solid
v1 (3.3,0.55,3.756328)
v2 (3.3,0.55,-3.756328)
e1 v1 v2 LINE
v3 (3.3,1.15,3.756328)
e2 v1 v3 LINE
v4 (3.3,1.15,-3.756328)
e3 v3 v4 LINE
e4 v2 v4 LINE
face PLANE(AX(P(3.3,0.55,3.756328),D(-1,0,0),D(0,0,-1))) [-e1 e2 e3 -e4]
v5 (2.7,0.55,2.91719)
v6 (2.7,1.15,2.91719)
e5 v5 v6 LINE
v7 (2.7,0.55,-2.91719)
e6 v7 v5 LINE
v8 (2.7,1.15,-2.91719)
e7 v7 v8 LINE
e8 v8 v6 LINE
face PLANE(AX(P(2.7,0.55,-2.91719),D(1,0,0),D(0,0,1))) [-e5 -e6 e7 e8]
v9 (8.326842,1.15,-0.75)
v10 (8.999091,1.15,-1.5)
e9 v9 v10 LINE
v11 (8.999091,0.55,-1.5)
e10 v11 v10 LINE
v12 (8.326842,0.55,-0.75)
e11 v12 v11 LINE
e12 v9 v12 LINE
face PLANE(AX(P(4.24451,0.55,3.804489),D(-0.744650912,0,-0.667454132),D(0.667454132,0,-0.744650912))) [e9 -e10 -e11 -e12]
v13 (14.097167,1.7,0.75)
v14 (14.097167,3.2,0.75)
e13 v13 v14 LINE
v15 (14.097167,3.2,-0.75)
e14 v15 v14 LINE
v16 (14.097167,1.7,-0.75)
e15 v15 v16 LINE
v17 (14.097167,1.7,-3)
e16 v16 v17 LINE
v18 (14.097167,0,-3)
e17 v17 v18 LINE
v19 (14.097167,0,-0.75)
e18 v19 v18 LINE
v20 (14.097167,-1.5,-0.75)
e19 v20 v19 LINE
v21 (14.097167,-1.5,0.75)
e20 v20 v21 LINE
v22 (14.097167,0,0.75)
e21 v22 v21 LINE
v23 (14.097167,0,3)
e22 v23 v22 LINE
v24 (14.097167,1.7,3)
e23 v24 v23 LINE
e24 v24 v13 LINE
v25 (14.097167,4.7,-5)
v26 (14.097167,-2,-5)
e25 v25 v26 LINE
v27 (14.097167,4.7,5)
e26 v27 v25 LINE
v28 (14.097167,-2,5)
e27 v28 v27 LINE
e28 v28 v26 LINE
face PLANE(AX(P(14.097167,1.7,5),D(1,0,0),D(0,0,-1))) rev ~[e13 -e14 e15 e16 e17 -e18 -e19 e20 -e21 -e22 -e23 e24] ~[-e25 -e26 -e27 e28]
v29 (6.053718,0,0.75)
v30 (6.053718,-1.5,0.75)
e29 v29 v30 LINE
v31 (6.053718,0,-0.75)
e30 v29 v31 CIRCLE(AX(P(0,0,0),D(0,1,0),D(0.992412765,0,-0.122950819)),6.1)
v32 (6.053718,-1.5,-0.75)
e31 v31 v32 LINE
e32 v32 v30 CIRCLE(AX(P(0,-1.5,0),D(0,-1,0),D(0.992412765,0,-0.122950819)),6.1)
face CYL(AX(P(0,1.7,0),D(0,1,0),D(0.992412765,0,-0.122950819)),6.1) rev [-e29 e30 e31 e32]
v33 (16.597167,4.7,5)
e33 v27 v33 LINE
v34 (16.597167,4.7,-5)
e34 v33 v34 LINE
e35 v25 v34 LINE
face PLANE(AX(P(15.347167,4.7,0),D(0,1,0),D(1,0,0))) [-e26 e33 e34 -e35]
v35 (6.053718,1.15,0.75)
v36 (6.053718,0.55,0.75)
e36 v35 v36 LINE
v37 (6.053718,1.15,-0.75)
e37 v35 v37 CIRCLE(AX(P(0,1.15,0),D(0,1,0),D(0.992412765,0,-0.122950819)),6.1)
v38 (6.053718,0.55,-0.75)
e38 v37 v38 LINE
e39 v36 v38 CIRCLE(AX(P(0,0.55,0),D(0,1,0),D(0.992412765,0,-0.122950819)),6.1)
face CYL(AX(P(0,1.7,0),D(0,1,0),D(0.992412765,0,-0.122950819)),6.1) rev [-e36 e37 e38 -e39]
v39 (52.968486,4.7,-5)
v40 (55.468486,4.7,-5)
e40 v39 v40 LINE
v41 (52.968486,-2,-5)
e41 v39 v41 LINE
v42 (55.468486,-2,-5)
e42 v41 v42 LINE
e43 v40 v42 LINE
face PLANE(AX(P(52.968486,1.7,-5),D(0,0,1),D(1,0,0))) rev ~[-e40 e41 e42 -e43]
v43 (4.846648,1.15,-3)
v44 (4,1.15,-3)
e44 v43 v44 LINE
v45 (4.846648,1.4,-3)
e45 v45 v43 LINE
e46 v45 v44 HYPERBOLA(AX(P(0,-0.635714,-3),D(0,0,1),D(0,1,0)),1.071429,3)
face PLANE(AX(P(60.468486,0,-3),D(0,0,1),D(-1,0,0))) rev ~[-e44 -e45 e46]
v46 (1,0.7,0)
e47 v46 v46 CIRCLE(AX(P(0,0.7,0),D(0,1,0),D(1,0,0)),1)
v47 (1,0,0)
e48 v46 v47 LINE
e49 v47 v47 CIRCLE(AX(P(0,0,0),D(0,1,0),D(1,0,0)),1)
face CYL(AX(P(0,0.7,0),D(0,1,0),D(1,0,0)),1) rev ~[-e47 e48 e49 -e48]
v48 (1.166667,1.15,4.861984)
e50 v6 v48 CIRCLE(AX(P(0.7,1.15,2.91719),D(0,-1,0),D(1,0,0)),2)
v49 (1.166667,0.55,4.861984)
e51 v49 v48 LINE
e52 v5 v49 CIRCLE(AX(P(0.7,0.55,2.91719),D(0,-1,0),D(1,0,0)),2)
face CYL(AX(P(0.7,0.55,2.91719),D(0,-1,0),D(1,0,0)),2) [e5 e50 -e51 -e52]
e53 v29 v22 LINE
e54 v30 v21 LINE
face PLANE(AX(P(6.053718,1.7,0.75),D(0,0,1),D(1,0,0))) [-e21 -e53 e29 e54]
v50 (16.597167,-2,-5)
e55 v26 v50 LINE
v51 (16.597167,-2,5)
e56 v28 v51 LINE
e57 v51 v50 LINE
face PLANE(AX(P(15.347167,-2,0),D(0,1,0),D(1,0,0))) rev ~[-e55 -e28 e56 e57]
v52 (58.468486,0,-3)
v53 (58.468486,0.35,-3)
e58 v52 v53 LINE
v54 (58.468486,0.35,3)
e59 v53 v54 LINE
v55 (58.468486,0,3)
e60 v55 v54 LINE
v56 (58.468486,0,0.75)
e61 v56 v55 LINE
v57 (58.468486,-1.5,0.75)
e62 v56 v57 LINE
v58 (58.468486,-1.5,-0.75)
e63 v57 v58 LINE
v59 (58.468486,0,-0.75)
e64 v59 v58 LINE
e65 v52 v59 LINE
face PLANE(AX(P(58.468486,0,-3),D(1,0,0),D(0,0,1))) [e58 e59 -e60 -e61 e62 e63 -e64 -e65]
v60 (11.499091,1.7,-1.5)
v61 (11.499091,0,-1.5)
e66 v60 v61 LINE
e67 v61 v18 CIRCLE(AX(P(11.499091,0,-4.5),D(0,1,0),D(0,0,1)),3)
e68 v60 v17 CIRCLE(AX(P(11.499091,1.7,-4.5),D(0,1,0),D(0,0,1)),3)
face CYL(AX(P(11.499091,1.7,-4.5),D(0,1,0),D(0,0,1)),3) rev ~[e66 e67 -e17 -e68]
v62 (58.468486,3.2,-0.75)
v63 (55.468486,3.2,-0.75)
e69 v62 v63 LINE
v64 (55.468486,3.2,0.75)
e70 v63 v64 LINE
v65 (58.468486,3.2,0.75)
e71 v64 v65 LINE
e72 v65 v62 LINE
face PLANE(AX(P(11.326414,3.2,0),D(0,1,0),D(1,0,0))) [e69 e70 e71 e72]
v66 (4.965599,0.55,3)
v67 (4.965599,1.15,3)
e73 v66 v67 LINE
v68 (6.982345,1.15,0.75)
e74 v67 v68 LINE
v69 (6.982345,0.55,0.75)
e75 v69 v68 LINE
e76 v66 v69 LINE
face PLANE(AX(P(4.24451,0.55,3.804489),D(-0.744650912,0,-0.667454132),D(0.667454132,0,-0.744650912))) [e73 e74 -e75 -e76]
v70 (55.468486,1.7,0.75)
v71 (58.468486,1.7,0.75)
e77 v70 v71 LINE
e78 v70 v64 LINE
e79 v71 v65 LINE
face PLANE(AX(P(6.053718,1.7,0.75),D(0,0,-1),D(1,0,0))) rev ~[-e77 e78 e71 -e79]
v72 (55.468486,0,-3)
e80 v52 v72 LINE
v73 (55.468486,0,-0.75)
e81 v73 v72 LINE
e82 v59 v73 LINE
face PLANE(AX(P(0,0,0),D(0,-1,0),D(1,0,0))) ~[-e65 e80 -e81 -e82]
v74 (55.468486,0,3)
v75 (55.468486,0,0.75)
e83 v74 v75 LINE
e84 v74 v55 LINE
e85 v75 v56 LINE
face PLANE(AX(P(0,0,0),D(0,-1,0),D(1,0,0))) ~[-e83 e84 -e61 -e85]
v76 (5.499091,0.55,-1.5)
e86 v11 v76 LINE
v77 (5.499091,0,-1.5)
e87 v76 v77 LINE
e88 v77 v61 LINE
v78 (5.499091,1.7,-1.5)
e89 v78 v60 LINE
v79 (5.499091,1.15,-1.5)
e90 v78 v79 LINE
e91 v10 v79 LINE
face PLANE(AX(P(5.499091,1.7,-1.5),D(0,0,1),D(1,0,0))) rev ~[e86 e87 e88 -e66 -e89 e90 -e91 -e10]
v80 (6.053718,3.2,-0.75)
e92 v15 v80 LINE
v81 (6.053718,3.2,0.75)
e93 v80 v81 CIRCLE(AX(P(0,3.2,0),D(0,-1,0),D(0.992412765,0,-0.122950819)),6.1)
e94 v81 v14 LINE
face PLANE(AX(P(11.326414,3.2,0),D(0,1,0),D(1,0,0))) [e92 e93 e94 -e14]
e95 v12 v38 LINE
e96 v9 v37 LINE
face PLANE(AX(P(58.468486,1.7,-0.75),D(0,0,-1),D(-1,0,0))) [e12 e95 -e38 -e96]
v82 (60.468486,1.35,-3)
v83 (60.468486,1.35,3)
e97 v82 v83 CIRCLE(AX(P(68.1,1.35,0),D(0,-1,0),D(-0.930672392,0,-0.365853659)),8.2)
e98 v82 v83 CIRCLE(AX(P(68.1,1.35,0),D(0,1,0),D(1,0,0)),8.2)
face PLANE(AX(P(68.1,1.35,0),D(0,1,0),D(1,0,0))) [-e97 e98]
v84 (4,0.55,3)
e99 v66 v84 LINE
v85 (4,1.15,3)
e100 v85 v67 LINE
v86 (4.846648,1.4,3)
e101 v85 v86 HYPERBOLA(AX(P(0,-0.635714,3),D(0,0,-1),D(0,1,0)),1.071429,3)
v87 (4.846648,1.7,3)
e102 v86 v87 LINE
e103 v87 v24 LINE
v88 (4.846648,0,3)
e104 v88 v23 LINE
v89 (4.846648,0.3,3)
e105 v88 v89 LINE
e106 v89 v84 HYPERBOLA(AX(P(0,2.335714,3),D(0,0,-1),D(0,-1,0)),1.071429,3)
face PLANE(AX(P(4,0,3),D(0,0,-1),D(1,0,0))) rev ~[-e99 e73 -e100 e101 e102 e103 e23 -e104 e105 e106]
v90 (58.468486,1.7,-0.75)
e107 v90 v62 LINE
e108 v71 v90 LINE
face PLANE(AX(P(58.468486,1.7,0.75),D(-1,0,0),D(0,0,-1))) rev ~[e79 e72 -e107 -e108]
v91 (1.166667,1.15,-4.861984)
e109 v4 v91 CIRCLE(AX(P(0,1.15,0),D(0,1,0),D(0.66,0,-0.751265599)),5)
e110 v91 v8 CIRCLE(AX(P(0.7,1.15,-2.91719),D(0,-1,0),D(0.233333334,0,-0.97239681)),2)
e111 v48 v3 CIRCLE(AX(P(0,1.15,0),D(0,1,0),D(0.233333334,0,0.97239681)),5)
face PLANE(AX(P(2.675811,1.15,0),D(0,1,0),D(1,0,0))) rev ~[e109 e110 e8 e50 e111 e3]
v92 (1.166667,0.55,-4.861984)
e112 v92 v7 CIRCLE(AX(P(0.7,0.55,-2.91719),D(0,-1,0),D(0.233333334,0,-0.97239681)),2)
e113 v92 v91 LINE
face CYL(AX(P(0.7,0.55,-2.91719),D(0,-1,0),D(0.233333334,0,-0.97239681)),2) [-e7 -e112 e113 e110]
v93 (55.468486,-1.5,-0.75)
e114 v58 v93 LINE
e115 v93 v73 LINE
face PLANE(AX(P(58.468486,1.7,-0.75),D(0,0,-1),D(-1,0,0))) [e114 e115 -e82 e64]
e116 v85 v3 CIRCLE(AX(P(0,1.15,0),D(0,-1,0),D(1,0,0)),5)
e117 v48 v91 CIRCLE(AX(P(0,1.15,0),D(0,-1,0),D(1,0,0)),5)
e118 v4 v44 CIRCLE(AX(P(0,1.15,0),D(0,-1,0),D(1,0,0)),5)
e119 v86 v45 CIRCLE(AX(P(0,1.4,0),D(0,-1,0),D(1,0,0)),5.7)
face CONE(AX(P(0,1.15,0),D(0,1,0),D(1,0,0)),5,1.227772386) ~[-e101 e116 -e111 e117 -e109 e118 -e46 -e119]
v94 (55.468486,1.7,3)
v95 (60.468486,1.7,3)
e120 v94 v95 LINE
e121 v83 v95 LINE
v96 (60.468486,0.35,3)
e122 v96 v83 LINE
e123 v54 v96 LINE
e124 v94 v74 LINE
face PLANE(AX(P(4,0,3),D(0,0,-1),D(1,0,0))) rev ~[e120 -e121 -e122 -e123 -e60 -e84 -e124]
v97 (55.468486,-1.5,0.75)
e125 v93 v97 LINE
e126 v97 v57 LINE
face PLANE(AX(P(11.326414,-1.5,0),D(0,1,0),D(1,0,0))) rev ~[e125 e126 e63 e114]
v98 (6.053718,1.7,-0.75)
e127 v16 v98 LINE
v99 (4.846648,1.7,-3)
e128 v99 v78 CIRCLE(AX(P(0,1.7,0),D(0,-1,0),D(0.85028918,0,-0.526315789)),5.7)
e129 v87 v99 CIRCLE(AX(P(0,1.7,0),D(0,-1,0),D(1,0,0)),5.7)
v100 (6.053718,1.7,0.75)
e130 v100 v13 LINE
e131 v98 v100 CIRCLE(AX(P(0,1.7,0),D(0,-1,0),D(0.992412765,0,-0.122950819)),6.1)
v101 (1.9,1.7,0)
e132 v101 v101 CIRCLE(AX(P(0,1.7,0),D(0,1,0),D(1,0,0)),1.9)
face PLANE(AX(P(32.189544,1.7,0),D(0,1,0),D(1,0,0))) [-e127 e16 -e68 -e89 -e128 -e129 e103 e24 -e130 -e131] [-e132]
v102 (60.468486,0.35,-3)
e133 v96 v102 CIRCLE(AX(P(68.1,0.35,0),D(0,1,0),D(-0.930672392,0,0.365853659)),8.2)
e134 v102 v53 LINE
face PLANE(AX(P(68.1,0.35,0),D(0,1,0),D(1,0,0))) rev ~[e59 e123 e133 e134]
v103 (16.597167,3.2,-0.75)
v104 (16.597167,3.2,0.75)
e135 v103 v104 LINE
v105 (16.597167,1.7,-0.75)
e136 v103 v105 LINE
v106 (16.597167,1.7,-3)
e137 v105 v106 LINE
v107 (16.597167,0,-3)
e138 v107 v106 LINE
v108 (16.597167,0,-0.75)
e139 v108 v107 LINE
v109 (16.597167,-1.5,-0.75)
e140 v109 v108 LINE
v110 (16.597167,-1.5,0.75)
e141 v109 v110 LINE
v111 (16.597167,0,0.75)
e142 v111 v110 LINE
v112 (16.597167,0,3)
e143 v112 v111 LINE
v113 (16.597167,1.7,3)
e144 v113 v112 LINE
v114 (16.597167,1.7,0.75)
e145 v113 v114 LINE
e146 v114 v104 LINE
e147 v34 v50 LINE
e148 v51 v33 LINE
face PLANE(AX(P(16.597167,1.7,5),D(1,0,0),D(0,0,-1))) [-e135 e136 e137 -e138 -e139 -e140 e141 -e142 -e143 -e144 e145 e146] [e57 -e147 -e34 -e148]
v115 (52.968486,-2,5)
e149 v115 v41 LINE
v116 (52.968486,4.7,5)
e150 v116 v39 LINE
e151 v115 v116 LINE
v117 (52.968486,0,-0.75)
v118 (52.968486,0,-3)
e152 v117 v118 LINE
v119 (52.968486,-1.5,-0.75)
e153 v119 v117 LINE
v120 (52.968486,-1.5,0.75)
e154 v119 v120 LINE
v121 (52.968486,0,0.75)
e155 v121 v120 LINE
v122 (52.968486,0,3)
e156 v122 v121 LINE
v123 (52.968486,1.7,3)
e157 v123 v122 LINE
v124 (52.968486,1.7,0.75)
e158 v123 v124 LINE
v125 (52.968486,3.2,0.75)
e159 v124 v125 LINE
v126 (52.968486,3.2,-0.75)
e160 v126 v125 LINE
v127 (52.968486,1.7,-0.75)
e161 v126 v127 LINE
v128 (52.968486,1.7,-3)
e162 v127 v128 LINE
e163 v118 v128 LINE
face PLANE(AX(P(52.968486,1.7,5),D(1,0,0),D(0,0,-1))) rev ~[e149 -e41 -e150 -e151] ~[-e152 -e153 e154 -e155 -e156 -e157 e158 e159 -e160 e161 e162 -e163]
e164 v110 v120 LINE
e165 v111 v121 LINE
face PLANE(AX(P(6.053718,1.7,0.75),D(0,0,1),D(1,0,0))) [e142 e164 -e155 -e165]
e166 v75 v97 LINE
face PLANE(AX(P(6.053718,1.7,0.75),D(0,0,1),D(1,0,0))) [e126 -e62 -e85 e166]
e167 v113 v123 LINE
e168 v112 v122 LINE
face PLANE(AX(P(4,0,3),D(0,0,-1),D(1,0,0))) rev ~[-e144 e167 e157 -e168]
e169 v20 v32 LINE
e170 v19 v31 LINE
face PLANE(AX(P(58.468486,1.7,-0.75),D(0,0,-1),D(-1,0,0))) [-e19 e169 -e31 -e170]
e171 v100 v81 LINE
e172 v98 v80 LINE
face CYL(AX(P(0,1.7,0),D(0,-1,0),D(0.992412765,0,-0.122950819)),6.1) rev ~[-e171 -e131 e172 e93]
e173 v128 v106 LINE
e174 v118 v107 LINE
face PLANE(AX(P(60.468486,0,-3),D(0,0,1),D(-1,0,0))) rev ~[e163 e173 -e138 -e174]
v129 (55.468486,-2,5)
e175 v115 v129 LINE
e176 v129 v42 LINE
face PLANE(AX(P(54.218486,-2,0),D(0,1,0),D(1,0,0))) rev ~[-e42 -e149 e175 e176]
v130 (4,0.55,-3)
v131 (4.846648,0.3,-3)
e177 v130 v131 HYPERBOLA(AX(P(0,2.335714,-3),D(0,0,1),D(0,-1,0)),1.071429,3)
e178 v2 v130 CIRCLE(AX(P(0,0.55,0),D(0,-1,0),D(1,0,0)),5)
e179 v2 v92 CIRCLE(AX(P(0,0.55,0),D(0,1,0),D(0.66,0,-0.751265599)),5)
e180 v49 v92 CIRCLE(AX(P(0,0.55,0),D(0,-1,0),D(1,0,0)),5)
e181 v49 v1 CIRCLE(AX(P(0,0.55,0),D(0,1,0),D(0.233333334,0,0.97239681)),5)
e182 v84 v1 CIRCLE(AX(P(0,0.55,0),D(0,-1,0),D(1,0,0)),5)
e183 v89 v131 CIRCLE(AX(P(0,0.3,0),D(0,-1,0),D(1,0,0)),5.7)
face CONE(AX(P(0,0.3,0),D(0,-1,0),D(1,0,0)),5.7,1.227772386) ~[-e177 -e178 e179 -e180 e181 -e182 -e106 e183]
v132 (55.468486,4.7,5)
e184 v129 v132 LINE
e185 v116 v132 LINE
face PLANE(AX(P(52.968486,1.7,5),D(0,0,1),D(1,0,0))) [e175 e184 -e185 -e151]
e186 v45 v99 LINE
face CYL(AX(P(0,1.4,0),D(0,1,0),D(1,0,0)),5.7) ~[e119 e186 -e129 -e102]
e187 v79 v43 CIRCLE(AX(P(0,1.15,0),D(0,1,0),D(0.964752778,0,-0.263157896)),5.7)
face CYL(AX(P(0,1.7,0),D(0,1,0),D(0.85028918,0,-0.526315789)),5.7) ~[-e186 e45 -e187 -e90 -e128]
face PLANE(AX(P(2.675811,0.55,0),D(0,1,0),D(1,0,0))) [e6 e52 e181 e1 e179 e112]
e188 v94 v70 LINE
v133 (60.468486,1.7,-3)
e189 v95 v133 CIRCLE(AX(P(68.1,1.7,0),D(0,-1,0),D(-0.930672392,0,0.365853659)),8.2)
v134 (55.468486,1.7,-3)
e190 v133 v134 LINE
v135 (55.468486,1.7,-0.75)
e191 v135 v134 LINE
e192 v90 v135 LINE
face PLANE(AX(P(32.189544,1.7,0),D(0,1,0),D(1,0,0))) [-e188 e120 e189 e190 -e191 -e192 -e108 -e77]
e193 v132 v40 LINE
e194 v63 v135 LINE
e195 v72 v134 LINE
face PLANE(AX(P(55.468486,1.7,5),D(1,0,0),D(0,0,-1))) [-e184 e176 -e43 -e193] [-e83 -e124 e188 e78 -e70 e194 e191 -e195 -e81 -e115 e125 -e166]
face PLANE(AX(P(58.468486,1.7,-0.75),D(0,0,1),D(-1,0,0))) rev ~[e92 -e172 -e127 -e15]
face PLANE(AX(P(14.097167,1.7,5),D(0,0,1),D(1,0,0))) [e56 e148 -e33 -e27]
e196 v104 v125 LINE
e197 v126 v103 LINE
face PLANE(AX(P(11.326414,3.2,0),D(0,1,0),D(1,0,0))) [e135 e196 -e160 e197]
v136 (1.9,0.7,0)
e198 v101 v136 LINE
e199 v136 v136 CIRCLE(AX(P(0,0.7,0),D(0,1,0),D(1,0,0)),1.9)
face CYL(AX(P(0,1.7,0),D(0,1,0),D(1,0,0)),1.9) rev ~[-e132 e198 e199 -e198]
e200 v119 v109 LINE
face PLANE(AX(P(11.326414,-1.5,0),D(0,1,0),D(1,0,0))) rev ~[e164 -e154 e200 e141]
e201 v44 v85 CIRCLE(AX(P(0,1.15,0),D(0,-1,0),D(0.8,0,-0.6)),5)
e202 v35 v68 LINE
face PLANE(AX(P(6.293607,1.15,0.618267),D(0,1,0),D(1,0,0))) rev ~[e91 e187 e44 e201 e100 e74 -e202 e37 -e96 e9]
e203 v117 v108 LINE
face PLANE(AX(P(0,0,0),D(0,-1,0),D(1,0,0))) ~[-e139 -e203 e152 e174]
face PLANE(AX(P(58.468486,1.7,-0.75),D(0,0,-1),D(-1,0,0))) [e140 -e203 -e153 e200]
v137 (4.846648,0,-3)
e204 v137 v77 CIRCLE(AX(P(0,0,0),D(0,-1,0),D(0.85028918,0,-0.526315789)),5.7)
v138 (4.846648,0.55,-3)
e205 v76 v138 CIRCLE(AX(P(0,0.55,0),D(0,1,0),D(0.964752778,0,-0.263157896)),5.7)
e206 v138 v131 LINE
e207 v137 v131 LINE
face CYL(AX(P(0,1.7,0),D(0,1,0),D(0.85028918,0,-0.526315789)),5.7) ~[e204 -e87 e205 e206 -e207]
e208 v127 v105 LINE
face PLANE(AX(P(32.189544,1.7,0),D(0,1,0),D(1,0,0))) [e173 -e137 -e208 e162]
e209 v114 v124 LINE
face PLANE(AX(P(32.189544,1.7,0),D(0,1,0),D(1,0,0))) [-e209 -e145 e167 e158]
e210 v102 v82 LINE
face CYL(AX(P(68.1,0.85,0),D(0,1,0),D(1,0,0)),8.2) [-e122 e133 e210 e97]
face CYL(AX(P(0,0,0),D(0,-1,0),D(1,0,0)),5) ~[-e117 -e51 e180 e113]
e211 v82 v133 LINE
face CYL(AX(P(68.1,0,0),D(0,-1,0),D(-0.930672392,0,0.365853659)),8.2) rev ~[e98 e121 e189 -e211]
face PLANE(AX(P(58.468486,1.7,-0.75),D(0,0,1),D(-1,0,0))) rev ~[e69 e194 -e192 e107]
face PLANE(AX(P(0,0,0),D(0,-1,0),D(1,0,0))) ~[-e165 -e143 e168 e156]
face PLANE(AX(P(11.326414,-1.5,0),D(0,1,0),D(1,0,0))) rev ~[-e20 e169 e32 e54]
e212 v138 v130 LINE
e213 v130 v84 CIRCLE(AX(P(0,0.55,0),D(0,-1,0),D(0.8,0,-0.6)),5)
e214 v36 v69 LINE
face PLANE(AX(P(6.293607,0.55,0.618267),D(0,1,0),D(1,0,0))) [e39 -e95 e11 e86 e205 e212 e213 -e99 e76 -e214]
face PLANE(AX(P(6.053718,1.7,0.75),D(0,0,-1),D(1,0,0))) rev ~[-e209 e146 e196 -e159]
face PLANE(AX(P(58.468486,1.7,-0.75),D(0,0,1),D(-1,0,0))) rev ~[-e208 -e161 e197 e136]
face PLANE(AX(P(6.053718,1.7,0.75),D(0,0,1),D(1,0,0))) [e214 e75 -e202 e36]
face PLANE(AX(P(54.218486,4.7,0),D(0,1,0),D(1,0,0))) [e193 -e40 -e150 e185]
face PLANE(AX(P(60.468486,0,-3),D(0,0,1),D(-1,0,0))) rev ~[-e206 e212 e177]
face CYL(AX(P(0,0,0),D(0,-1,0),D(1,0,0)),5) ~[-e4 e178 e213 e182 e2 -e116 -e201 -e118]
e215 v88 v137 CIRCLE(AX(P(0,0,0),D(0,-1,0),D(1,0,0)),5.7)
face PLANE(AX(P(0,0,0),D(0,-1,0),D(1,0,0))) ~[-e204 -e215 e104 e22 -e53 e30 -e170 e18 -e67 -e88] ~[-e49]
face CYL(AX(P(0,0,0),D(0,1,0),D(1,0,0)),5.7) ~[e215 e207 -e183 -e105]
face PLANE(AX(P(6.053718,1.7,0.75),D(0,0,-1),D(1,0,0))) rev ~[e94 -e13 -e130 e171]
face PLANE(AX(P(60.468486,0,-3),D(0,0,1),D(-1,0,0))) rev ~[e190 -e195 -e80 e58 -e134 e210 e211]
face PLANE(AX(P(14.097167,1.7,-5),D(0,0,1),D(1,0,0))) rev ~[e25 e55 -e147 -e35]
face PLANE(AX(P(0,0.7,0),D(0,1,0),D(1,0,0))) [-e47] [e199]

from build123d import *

# Parameters (mm, degrees)
SKETCH1_R                      = 5
BOSS_EXTRUDE1_DEPTH            = 1.7
EP_CABLESLOT_DEPTH             = 0.6
SKETCH4_R                      = 1.9
EP_BALLBEARINGSLOT_DEPTH       = 1
SKETCH5_R                      = 1
EP_SHAFTHOLE_DEPTH             = 0.7
BOSS_EXTRUDE2_START            = -0.85
BOSS_EXTRUDE2_DEPTH            = 1.7
HUMERUSCLEARANCECUT_DEPTH      = 1.7
CABLECLEARANCECUT_DEPTH        = 0.6
SKETCH6_3_R                    = 8.2
MAINPLATE_DEPTH                = 0.5
FINGERPULLEYCLEARANCECUT_DEPTH = 0.35
SKETCH10_W                     = 2.5
SKETCH10_H                     = 10
BLOCK1_DEPTH                   = 3
BLOCK1_DEPTH_BACK              = 3.7
SKETCH13_W                     = 2.5
SKETCH13_H                     = 10
BLOCK2_DEPTH                   = 3
BLOCK2_DEPTH_BACK              = 3.7
SKETCH14_W                     = 36.371319344
SKETCH14_H                     = 1.5
SKETCH14_W_2                   = 5.5
STIFFENERRIB_DEPTH             = 1.5
STIFFENERRIB_DEPTH_BACK        = 3.2


with BuildPart() as part:
    # Sketch1 → Boss-Extrude1 (new body)
    with BuildSketch(Plane(origin=(0, 0, 0), x_dir=(1, 0, 0), z_dir=(0, 1, 0))):
        Circle(SKETCH1_R)
    extrude(amount=BOSS_EXTRUDE1_DEPTH)

    # Sketch2 → Revolve1 (revolve)
    with BuildSketch(Plane.XY):
        Polygon((5, 1.7), (5, 1.15), (5.7, 1.4), (5.7, 1.7), align=None)
        Polygon((5, 0.55), (5, 0), (5.7, 0), (5.7, 0.3), align=None)
    revolve(axis=Axis((0, 1.7, 0), (0, -1, 0)))

    # Sketch3 → EP_CableSlot (cut)
    with BuildSketch(Plane(origin=(0, 0.55, 0), x_dir=(1, 0, 0), z_dir=(0, 1, 0))):
        with BuildLine():
            ThreePointArc((1.166666667, -4.861984049), (2.300738274, -4.439212024), (3.3, -3.756327994))
            Line((3.3, -3.756327994), (3.3, 3.756327994))
            ThreePointArc((3.3, 3.756327994), (2.300738274, 4.439212024), (1.166666667, 4.861984049))
            ThreePointArc((1.166666667, 4.861984049), (2.270562532, 4.155468804), (2.7, 2.917190429))
            Line((2.7, 2.917190429), (2.7, -2.917190429))
            ThreePointArc((2.7, -2.917190429), (2.270562532, -4.155468804), (1.166666667, -4.861984049))
        make_face()
    extrude(amount=EP_CABLESLOT_DEPTH, mode=Mode.SUBTRACT)

    # Sketch4 → EP_BallBearingSlot (cut)
    with BuildSketch(Plane(origin=(0, 1.7, 0), x_dir=(1, 0, 0), z_dir=(0, 1, 0))):
        Circle(SKETCH4_R)
    extrude(amount=-EP_BALLBEARINGSLOT_DEPTH, mode=Mode.SUBTRACT)

    # Sketch5 → EP_ShaftHole (cut)
    with BuildSketch(Plane(origin=(0, 0.7, 0), x_dir=(1, 0, 0), z_dir=(0, 1, 0))):
        Circle(SKETCH5_R)
    extrude(amount=-EP_SHAFTHOLE_DEPTH, mode=Mode.SUBTRACT)

    # Sketch6 → Boss-Extrude2 (add)
    with BuildSketch(Plane(origin=(0, 0.85, 0), x_dir=(1, 0, 0), z_dir=(0, 1, 0)).offset(BOSS_EXTRUDE2_START)):
        with BuildLine():
            ThreePointArc((4, 3), (5, 0), (4, -3))
            Line((4, -3), (60.468486389, -3))
            ThreePointArc((60.468486389, -3), (59.9, 0), (60.468486389, 3))
            Line((60.468486389, 3), (4, 3))
        make_face()
    extrude(amount=BOSS_EXTRUDE2_DEPTH)

    # Sketch8 → HumerusClearanceCut (cut)
    with BuildSketch(Plane(origin=(0, 1.7, 0), x_dir=(1, 0, 0), z_dir=(0, 1, 0))):
        with BuildLine():
            ThreePointArc((4.846648326, 3), (5.22695702, 2.273525963), (5.499090834, 1.5))
            Line((5.499090834, 1.5), (11.499090834, 1.5))
            ThreePointArc((11.499090834, 1.5), (12.999090834, 1.901923789), (14.097167045, 3))
            Line((14.097167045, 3), (4.846648326, 3))
        make_face()
    extrude(amount=-HUMERUSCLEARANCECUT_DEPTH, mode=Mode.SUBTRACT)

    # Sketch11 → CableClearanceCut (cut)
    with BuildSketch(Plane(origin=(0, 0.55, 0), x_dir=(1, 0, 0), z_dir=(0, 1, 0))):
        with BuildLine():
            Line((8.999090834, 1.5), (5.499090834, 1.5))
            ThreePointArc((5.499090834, 1.5), (5.641017612, -0.817875483), (4.846648326, -3))
            ThreePointArc((4.846648326, -3), (4.563342119, -3.415539299), (4.2445102, -3.804488555))
            Line((4.2445102, -3.804488555), (8.999090834, 1.5))
        make_face()
        with BuildLine():
            ThreePointArc((4.846648326, -3), (5.641017612, -0.817875483), (5.499090834, 1.5))
            ThreePointArc((5.499090834, 1.5), (5.22695702, 2.273525963), (4.846648326, 3))
            Line((4.846648326, 3), (4, 3))
            ThreePointArc((4, 3), (5, 0), (4, -3))
            Line((4, -3), (4.846648326, -3))
        make_face()
    extrude(amount=CABLECLEARANCECUT_DEPTH, mode=Mode.SUBTRACT)

    # Sketch6<3> → MainPlate (add, symmetric)
    with BuildSketch(Plane(origin=(0, 0.85, 0), x_dir=(1, 0, 0), z_dir=(0, 1, 0))):
        with Locations((68.1, 0)):
            Circle(SKETCH6_3_R)
    extrude(amount=MAINPLATE_DEPTH, both=True)

    # Sketch12 → FingerPulleyClearanceCut (cut)
    with BuildSketch(Plane(origin=(0, 0, 0), x_dir=(1, 0, 0), z_dir=(0, 1, 0))):
        with BuildLine():
            ThreePointArc((60.468486389, -3), (59.9, 0), (60.468486389, 3))
            Line((60.468486389, 3), (58.468486389, 3))
            Line((58.468486389, 3), (58.468486389, -3))
            Line((58.468486389, -3), (60.468486389, -3))
        make_face()
    extrude(amount=FINGERPULLEYCLEARANCECUT_DEPTH, mode=Mode.SUBTRACT)

    # Sketch10 → Block1 (add, two sides)
    with BuildSketch(Plane(origin=(0, 1.7, 0), x_dir=(1, 0, 0), z_dir=(0, 1, 0))) as block1_sk:
        with Locations((15.347167045, 0)):
            Rectangle(SKETCH10_W, SKETCH10_H)
    extrude(amount=BLOCK1_DEPTH)
    extrude(block1_sk.sketch, amount=-BLOCK1_DEPTH_BACK)

    # Sketch13 → Block2 (add, two sides)
    with BuildSketch(Plane(origin=(0, 1.7, 0), x_dir=(1, 0, 0), z_dir=(0, 1, 0))) as block2_sk:
        with Locations((54.218486389, 0)):
            Rectangle(SKETCH13_W, SKETCH13_H)
    extrude(amount=BLOCK2_DEPTH)
    extrude(block2_sk.sketch, amount=-BLOCK2_DEPTH_BACK)

    # Sketch14 → StiffenerRib (add, two sides)
    with BuildSketch(Plane(origin=(0, 1.7, 0), x_dir=(1, 0, 0), z_dir=(0, 1, 0))) as stiffenerrib_sk:
        with BuildLine():
            Line((16.597167045, -0.75), (16.597167045, 0.75))
            Line((16.597167045, 0.75), (6.053717866, 0.75))
            ThreePointArc((6.053717866, 0.75), (6.1, 0), (6.053717866, -0.75))
            Line((6.053717866, -0.75), (16.597167045, -0.75))
        make_face()
        with Locations((34.782826717, 0)):
            Rectangle(SKETCH14_W, SKETCH14_H)
        with Locations((55.718486389, 0)):
            Rectangle(SKETCH14_W_2, SKETCH14_H)
    extrude(amount=STIFFENERRIB_DEPTH)
    extrude(stiffenerrib_sk.sketch, amount=-STIFFENERRIB_DEPTH_BACK)


solid = part.part
